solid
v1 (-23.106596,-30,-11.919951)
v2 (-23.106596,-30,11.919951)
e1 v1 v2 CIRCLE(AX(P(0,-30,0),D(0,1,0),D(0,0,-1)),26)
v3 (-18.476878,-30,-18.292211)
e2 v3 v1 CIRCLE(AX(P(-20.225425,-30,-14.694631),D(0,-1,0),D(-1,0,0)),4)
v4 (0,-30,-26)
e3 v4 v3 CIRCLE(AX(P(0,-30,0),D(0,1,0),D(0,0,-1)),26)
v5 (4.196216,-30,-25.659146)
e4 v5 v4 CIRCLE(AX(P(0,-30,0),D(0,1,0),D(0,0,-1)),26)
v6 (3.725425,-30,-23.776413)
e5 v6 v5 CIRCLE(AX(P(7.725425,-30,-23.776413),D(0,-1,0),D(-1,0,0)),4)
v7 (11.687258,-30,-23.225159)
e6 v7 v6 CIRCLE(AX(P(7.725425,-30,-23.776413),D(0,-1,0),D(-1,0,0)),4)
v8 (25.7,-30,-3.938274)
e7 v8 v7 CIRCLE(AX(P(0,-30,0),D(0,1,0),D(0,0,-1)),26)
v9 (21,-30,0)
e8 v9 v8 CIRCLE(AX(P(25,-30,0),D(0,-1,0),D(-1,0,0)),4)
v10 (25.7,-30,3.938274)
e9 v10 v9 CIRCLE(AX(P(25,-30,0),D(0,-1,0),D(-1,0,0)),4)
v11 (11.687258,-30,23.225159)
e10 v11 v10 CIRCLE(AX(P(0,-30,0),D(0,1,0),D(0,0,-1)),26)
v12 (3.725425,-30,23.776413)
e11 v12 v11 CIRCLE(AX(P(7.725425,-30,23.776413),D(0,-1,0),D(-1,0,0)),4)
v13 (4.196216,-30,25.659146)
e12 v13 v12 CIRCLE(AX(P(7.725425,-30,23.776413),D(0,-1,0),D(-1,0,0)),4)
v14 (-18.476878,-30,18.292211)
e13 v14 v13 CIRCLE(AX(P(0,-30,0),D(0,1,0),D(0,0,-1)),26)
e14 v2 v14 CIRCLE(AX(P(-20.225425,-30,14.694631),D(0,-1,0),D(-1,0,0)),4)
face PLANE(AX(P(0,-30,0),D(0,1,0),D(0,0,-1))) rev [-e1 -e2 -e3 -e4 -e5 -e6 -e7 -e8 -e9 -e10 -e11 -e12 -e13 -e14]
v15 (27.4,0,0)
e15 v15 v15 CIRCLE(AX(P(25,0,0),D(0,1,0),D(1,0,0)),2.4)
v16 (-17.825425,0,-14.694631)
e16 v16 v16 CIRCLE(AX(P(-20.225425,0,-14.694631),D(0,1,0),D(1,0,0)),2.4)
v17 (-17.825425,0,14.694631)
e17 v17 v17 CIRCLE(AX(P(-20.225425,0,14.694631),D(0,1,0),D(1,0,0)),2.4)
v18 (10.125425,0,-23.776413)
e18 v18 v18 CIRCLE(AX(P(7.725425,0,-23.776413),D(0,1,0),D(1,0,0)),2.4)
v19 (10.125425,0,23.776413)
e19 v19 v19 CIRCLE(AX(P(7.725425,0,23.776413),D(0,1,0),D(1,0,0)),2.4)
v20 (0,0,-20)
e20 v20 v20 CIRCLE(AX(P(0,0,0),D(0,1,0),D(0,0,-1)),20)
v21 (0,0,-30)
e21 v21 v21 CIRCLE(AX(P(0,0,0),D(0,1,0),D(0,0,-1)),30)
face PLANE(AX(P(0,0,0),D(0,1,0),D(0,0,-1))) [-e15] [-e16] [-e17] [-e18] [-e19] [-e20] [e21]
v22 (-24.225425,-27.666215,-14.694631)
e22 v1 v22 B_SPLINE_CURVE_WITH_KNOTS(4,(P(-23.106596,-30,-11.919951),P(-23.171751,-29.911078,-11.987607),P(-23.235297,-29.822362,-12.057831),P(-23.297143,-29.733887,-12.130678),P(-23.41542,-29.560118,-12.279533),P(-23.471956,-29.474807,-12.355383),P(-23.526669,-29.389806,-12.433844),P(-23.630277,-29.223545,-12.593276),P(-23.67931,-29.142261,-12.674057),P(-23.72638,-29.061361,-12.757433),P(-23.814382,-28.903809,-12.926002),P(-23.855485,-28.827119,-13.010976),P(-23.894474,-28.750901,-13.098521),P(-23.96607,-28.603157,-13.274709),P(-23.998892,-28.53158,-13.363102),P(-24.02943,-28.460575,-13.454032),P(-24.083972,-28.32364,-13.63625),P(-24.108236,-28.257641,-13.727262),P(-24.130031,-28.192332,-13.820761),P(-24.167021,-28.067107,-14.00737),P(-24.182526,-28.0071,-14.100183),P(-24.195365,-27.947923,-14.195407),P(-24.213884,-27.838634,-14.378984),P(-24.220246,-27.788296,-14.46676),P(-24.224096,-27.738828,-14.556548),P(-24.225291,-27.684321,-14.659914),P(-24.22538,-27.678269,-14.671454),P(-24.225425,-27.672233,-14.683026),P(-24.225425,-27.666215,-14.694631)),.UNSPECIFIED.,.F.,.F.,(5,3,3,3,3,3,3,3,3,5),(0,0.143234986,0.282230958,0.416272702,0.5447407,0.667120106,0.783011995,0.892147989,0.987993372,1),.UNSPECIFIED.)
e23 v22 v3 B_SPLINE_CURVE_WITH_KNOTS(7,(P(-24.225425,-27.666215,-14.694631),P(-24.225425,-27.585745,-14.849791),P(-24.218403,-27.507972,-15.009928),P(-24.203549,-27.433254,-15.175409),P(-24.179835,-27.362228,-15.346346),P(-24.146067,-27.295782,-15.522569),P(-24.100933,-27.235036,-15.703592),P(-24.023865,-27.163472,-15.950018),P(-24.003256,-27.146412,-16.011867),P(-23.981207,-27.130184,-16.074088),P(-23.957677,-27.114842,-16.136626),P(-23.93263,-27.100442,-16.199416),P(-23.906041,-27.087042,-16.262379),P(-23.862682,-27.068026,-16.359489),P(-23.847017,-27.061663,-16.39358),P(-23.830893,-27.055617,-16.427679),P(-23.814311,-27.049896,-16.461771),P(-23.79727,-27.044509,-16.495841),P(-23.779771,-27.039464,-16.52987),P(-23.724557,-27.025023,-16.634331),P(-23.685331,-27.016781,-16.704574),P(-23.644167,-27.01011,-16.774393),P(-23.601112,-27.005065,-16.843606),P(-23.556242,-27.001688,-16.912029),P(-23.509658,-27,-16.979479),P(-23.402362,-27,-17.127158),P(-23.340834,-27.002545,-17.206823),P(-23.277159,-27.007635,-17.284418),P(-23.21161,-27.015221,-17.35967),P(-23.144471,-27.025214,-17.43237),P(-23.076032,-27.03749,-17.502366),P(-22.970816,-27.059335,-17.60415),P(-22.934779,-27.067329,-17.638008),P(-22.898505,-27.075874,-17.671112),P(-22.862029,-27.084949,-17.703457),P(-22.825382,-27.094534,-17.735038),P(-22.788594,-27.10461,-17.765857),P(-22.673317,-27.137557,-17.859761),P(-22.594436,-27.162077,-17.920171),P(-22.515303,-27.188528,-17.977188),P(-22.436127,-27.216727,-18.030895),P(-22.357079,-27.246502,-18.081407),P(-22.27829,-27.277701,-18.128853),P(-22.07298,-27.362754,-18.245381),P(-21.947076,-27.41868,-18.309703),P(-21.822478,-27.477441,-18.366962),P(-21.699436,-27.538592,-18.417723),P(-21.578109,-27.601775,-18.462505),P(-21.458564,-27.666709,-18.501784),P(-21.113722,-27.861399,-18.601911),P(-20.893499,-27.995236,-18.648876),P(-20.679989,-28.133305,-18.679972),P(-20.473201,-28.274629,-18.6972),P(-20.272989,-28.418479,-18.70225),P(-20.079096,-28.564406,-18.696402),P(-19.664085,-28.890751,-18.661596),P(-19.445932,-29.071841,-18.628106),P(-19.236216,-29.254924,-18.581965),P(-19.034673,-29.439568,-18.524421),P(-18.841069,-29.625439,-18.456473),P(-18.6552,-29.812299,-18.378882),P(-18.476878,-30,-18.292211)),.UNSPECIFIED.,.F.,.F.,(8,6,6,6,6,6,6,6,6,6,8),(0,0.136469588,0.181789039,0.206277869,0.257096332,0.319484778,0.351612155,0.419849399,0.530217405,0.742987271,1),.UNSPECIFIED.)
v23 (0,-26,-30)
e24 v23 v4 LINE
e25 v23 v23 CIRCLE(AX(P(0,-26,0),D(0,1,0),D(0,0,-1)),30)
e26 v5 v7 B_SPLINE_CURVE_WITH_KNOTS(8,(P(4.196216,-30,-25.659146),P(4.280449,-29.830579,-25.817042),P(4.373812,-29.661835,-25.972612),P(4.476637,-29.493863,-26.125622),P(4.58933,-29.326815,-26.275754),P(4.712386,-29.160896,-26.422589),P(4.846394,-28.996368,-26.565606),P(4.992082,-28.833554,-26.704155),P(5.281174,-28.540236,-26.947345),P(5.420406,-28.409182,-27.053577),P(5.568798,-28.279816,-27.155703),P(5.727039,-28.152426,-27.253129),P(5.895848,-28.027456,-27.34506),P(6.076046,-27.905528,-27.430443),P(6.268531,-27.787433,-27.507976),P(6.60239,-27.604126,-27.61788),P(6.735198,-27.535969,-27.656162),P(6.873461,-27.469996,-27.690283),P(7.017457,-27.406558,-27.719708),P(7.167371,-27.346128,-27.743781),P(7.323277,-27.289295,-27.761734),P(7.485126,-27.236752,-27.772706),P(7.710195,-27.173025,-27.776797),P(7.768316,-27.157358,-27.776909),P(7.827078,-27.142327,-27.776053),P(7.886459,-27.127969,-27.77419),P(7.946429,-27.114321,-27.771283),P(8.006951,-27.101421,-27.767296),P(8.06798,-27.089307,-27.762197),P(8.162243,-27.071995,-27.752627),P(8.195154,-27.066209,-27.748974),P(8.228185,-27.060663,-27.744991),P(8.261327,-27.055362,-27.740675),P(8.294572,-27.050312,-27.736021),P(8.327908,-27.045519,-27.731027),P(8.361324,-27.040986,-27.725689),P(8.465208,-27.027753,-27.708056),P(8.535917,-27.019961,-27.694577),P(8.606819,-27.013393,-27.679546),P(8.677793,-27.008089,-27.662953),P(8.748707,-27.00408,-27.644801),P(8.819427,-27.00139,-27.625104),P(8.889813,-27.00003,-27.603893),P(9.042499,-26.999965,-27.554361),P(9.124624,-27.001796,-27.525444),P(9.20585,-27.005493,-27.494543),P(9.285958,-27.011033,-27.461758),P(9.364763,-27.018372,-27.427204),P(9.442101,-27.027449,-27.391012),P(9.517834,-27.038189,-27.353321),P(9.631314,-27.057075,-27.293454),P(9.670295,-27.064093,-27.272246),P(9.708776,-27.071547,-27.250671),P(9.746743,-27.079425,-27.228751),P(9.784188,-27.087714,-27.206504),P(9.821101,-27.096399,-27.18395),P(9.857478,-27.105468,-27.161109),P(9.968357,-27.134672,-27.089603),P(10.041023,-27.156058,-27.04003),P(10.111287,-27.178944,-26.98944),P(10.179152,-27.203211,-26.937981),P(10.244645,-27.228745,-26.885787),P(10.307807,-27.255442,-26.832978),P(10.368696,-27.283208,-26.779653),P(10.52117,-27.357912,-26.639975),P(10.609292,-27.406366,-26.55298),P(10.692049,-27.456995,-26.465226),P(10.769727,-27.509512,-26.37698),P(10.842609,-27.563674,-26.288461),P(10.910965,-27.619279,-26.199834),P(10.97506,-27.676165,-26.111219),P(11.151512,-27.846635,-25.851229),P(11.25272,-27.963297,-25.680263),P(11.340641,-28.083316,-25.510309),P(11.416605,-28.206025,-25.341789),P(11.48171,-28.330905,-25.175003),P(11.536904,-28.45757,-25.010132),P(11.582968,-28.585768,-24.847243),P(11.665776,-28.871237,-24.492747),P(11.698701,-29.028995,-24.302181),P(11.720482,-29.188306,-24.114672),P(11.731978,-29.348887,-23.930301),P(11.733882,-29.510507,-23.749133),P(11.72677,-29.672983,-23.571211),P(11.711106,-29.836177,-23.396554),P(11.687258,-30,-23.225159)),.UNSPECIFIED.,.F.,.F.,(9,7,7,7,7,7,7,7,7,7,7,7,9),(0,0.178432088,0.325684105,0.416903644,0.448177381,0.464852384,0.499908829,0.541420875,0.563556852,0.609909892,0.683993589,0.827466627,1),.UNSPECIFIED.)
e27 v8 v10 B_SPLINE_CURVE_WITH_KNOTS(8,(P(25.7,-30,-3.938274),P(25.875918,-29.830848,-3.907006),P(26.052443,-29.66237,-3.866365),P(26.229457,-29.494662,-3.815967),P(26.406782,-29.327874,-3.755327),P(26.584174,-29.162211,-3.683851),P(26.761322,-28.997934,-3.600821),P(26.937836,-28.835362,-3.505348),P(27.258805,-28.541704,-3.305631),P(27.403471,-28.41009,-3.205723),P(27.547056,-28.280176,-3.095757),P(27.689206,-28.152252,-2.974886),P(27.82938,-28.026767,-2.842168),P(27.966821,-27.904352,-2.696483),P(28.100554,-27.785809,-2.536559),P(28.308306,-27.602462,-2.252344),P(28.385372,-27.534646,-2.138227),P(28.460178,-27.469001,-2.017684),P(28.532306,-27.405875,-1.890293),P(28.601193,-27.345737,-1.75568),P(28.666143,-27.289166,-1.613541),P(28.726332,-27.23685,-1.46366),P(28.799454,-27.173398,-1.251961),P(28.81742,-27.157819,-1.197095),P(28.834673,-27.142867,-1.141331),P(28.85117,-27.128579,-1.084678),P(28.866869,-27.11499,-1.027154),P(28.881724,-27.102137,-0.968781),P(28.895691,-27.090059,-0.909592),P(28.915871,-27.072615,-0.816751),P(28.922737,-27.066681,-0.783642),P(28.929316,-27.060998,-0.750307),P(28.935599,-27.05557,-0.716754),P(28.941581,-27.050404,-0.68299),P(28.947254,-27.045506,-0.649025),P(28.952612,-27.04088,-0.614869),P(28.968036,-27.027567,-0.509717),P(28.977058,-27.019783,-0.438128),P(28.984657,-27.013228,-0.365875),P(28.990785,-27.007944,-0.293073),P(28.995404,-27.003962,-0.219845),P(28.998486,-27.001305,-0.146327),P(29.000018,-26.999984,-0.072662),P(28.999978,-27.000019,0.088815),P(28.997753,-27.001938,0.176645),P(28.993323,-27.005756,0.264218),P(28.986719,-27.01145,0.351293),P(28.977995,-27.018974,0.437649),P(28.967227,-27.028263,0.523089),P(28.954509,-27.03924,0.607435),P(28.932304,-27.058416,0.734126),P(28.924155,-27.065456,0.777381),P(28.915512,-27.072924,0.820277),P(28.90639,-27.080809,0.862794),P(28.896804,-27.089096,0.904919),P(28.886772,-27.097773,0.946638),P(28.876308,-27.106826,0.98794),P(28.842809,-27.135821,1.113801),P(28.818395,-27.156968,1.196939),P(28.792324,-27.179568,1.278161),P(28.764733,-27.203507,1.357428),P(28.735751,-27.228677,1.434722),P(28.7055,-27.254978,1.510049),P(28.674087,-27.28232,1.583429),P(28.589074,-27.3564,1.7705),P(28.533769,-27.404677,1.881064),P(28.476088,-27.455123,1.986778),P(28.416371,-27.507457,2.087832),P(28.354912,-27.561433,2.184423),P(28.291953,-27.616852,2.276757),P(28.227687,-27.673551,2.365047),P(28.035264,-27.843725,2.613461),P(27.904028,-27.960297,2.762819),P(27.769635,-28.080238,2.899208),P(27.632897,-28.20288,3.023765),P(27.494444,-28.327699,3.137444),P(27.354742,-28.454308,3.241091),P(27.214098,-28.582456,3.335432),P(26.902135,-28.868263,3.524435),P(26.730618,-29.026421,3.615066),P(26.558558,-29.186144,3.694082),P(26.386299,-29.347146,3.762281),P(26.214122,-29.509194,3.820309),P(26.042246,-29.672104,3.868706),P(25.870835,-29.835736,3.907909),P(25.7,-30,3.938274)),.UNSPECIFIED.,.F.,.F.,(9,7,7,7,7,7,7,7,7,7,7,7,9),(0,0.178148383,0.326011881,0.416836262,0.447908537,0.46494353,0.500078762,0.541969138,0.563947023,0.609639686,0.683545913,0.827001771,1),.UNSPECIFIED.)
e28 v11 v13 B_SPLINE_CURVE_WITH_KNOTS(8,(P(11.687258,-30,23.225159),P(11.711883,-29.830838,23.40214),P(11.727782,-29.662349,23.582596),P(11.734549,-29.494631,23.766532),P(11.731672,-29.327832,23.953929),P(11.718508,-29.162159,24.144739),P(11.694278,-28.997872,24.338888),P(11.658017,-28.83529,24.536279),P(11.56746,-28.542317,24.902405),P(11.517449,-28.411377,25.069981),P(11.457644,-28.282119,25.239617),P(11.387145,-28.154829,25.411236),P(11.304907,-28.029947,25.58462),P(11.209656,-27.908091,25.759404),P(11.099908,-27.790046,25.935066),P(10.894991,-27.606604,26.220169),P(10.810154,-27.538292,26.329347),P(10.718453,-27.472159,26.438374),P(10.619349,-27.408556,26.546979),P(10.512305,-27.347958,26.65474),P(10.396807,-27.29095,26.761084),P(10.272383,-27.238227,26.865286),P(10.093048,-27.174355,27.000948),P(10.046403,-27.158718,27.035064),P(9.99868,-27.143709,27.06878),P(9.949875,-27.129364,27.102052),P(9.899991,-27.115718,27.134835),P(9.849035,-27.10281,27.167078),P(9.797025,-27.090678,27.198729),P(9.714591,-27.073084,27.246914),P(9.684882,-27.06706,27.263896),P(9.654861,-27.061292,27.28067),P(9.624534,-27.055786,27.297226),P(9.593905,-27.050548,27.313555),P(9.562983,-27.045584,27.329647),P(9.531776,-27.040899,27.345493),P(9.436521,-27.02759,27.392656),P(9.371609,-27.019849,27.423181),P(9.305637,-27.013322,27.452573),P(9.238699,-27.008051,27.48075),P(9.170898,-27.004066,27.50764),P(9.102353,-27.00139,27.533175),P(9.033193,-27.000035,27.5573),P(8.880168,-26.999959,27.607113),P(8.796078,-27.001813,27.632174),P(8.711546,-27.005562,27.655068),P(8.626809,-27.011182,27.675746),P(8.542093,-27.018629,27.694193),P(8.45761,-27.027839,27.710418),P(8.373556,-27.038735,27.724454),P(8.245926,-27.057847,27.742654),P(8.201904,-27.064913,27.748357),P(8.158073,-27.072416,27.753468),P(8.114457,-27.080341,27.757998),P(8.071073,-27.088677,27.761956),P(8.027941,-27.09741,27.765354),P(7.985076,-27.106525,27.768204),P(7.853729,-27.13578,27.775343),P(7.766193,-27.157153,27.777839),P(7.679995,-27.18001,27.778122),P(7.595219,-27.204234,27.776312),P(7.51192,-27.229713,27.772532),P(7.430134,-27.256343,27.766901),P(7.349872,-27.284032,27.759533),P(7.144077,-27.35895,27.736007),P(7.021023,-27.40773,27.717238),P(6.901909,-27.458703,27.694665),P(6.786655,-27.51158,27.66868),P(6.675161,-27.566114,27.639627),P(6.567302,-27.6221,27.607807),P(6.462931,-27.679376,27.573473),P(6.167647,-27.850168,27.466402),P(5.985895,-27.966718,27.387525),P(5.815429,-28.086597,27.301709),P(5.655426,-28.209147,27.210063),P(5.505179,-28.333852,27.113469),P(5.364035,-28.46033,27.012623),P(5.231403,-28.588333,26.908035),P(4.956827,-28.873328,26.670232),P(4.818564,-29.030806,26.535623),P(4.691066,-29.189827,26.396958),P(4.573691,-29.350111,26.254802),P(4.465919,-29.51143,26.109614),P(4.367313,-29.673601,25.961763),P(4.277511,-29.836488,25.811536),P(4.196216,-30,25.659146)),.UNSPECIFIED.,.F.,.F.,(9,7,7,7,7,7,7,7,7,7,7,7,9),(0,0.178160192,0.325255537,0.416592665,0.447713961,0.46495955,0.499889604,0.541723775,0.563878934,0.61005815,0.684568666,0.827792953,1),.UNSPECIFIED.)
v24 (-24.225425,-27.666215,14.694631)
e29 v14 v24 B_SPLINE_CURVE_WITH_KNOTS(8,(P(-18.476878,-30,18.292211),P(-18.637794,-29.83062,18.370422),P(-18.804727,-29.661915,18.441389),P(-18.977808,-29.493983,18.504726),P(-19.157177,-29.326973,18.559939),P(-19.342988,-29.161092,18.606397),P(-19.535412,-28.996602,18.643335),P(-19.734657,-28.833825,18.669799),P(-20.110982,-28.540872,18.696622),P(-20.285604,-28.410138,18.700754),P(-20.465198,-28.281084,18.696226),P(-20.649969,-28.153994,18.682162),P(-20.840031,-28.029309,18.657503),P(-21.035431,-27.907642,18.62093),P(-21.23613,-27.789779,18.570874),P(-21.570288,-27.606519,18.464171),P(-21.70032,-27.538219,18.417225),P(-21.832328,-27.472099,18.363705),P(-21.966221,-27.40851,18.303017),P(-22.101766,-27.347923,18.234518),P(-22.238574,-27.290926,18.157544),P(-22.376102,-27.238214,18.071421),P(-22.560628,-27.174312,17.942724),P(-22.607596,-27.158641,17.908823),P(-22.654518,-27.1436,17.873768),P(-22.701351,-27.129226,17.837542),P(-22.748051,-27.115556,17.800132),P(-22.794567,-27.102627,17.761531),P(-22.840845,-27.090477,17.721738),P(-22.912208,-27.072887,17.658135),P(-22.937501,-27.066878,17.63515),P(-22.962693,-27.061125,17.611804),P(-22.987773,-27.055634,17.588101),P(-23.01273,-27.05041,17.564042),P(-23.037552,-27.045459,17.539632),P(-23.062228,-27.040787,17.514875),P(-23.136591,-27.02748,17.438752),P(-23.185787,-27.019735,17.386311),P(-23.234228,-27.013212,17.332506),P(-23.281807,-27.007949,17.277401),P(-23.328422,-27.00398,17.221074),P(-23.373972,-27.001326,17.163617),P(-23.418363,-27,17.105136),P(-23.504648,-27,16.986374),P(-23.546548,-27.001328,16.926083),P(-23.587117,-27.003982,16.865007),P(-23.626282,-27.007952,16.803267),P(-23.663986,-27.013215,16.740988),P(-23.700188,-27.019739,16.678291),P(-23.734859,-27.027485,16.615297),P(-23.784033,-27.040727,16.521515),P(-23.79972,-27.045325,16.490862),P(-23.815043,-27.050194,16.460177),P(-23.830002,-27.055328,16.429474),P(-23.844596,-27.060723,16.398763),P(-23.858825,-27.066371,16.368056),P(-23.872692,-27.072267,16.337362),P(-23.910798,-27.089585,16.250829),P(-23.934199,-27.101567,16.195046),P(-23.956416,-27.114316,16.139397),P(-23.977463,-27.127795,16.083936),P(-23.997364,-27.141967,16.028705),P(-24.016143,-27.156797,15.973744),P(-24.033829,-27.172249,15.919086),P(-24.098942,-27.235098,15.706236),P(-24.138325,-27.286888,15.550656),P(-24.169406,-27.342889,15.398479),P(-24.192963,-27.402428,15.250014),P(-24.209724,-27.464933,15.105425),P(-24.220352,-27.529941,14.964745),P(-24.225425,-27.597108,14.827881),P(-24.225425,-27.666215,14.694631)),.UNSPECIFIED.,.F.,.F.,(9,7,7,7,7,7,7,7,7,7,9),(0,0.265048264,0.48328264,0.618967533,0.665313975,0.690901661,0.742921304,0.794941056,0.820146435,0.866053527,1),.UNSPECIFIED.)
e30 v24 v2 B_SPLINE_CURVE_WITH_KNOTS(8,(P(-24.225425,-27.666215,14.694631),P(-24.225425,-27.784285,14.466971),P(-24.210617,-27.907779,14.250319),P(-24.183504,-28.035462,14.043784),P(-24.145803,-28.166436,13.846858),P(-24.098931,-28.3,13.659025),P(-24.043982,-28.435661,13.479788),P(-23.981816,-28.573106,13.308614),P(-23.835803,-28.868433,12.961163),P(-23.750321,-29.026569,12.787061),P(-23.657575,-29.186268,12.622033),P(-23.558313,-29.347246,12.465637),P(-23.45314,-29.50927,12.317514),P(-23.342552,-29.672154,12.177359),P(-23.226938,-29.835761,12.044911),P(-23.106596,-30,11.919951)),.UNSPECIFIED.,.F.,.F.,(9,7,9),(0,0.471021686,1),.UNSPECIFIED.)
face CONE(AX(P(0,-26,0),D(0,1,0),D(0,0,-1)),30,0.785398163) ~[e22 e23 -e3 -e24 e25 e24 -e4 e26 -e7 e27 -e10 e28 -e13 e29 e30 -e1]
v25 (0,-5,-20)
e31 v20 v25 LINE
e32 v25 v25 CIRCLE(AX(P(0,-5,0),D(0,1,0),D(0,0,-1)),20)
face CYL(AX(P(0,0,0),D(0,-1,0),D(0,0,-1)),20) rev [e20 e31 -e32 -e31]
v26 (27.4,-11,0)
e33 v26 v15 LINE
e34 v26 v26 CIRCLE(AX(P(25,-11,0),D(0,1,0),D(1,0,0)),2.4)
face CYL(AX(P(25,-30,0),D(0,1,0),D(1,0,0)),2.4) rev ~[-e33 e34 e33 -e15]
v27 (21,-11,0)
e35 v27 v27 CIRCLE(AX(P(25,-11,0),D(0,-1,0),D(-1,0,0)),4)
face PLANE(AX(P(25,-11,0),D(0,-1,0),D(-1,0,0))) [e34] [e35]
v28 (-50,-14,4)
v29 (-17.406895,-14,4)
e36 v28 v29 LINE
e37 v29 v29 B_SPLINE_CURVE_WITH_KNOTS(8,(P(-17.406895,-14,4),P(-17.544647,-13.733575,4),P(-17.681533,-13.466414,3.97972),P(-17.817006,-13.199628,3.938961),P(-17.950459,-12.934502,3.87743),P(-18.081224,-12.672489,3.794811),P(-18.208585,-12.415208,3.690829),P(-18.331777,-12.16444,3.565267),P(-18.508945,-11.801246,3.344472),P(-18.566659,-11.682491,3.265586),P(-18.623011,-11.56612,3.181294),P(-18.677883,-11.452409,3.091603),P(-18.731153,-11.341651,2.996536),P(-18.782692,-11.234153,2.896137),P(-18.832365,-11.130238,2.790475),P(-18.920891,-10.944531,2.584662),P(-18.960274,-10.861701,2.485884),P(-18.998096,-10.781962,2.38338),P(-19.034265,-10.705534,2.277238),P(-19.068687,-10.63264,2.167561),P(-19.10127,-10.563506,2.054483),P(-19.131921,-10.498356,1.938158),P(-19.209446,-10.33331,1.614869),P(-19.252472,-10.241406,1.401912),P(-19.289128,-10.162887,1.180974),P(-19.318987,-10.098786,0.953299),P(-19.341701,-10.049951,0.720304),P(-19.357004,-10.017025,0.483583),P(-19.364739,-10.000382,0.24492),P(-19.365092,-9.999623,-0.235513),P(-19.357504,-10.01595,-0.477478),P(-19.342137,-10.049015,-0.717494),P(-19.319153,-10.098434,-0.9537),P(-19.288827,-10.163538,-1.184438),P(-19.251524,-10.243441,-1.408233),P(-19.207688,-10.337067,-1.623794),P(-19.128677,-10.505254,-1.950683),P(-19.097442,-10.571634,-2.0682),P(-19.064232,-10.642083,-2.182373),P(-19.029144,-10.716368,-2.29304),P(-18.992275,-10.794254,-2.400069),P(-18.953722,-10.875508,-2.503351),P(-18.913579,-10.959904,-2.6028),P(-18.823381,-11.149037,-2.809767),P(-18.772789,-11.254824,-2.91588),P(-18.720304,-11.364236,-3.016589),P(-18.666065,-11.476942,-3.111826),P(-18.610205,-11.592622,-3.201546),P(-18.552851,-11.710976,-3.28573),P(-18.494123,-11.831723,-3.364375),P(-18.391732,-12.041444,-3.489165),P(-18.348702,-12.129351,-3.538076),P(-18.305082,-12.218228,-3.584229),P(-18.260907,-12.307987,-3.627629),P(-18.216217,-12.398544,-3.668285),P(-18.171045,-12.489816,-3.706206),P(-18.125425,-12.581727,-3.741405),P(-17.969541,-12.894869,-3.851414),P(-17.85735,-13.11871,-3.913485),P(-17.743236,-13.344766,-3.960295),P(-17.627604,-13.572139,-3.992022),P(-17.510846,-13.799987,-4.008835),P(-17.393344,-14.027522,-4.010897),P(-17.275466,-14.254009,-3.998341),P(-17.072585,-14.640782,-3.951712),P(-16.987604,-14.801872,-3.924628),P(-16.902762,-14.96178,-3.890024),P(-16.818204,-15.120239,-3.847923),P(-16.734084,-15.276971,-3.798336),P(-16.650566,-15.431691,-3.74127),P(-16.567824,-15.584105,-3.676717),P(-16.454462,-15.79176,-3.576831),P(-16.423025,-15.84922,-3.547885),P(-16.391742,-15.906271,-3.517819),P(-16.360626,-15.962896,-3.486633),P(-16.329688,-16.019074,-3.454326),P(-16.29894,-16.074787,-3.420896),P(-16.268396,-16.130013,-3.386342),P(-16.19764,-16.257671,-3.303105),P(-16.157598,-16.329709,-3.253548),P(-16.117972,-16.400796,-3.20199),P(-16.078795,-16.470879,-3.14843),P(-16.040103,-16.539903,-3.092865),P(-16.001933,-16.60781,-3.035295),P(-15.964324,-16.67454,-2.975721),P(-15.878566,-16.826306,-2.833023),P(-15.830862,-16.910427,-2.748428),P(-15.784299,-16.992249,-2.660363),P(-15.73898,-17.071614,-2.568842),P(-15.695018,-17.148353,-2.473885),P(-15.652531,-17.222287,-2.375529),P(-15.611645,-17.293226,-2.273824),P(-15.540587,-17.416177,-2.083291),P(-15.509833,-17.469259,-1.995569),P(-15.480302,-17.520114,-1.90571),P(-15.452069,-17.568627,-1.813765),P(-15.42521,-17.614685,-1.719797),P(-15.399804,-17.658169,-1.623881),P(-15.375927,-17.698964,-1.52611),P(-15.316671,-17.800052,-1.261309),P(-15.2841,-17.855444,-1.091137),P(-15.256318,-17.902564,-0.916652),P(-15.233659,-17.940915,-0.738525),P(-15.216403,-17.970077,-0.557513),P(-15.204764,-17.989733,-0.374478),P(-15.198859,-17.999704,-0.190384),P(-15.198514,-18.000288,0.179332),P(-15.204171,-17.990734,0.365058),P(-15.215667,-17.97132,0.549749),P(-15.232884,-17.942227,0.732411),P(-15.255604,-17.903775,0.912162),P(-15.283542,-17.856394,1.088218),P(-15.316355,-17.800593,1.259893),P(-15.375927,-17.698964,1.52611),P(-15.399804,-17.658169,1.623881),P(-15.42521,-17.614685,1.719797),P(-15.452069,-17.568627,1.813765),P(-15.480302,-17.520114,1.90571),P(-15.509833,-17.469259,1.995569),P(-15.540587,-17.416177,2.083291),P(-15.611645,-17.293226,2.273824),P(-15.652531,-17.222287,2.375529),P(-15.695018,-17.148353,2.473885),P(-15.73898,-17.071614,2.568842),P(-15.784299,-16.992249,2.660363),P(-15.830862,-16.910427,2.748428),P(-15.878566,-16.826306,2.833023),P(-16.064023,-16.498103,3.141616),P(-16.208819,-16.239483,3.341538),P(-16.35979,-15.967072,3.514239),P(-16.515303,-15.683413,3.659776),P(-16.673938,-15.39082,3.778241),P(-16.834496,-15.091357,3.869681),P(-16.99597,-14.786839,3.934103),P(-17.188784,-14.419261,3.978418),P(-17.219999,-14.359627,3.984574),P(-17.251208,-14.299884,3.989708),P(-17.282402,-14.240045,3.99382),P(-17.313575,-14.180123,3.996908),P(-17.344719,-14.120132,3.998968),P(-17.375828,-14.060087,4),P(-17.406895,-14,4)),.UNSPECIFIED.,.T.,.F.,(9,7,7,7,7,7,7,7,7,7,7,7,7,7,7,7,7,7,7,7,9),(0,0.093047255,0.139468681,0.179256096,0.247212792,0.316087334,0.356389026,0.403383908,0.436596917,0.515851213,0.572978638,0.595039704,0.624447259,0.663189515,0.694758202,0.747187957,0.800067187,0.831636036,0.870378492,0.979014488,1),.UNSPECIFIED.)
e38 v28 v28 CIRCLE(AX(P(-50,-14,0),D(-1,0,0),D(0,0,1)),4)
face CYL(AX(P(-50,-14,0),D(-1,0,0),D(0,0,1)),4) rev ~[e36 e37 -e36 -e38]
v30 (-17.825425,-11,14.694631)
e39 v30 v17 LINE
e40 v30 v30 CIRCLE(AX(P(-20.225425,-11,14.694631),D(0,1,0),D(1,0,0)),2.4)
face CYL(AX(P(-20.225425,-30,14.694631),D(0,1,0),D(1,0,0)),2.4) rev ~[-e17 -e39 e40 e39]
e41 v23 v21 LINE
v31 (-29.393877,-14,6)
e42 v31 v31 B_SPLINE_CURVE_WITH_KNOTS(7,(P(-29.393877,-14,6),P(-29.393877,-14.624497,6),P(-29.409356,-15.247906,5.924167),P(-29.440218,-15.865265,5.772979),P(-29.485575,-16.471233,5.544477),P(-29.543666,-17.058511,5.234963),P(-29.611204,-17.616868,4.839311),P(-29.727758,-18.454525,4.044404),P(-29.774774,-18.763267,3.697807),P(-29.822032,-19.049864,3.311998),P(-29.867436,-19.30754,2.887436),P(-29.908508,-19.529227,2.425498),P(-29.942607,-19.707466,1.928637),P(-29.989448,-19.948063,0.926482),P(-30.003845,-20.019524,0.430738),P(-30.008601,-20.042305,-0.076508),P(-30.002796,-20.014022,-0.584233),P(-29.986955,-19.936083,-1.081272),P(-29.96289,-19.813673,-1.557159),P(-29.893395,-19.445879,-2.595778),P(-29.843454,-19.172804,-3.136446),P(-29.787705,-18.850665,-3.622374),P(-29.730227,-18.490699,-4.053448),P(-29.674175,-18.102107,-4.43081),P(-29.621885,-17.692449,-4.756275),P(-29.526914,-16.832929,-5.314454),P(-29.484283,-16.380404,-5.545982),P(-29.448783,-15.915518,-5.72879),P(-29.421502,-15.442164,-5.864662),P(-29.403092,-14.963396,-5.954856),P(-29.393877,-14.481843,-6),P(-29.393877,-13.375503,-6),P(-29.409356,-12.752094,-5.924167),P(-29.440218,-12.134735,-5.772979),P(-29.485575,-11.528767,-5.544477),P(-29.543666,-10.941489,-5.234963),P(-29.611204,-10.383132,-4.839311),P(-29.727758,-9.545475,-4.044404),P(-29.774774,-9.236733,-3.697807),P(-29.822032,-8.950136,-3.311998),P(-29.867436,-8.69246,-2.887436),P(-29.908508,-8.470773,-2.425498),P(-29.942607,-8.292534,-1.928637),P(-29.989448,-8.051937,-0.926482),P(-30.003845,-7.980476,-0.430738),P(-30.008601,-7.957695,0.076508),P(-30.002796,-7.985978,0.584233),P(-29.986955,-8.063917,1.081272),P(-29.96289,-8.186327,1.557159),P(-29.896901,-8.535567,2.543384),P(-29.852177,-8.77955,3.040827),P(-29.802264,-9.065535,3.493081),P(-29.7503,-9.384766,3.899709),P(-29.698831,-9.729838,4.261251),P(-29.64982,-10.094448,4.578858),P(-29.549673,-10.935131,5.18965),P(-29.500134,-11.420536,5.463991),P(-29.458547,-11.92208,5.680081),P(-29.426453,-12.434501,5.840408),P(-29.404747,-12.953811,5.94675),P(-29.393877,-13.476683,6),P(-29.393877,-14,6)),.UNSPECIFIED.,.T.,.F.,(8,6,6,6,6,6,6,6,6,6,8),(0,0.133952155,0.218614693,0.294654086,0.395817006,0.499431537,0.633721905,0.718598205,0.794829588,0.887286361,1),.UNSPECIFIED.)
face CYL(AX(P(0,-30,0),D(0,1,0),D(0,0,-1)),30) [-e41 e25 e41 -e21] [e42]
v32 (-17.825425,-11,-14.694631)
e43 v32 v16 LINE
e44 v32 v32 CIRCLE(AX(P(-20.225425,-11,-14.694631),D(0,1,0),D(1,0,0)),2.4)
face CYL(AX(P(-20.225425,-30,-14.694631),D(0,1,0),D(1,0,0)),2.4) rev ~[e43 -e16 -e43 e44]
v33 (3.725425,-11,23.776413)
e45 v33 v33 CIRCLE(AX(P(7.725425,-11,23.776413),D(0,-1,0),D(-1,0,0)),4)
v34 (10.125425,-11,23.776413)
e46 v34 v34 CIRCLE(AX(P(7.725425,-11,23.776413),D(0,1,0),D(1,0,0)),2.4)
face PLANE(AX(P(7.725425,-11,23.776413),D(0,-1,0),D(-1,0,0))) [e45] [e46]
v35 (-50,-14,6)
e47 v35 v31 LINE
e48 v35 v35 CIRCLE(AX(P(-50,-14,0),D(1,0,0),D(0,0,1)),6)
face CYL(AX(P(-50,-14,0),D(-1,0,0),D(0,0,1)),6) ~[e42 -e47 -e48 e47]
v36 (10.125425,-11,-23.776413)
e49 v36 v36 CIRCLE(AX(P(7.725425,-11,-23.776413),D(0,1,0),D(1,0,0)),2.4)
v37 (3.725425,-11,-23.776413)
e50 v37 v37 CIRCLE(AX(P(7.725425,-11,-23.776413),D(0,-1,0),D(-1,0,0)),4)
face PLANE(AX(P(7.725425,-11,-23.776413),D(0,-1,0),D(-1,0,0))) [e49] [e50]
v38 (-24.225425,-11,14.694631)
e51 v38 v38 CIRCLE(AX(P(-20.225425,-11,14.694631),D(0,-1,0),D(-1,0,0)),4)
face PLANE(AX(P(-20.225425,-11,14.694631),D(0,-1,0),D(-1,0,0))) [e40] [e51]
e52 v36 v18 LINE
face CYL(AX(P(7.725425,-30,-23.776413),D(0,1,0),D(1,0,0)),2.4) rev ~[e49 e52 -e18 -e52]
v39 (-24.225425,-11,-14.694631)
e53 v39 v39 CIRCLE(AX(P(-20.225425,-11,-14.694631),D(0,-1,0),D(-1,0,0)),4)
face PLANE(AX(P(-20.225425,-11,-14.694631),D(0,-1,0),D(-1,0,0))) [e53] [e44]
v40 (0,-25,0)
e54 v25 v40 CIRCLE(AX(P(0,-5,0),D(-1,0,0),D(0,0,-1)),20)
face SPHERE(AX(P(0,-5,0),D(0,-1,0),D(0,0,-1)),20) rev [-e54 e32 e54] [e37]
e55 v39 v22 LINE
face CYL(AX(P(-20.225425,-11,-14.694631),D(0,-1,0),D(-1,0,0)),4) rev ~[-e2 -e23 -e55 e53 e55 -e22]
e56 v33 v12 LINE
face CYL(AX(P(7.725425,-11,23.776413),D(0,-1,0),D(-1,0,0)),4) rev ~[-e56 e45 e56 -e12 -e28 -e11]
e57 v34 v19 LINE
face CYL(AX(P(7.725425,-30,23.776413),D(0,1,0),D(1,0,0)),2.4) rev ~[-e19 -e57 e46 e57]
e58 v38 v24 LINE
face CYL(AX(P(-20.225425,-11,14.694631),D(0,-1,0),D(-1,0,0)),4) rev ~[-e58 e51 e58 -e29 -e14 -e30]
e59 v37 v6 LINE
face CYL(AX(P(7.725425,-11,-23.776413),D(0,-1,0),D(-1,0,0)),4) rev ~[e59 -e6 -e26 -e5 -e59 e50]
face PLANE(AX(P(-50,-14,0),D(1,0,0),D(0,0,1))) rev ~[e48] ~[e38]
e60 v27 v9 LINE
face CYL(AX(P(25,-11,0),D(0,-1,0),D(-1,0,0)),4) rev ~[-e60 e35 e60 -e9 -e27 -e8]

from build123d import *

# Parameters (mm, degrees)
BOSS_EXTRUDE1_REACH            = 92.554
BOSS_EXTRUDE1_END_RADIUS       = 30
SKETCH2_R                      = 6
CUT_EXTRUDE1_REACH             = 92.554
CUT_EXTRUDE1_END_RADIUS        = 20
SKETCH4_R                      = 4
CHAMFER1_SIZE                  = 4
CBORE_FOR_M4_SHCS1_D           = 4.8
CBORE_FOR_M4_SHCS1_CBORE_D     = 8
CBORE_FOR_M4_SHCS1_CBORE_DEPTH = 19


with BuildPart() as part:
    # Sketch1 → Revolve1 (revolve)
    with BuildSketch(Plane.XY, mode=Mode.PRIVATE) as revolve1_sk:
        with BuildLine():
            Line((20, 0), (20, -5))
            ThreePointArc((20, -5), (14.142135624, -19.142135624), (0, -25))
            Line((0, -25), (0, -30))
            Line((0, -30), (30, -30))
            Line((30, -30), (30, 0))
            Line((30, 0), (20, 0))
        make_face()
    revolve(revolve1_sk.sketch.rotate(Axis((0, 18.533057851, 0), (0, 1, 0)), 90), axis=Axis((0, 18.533057851, 0), (0, 1, 0)))

    # Boss-Extrude1: up to this cylinder (the profile starts outside it)
    boss_extrude1_end = Plane(origin=(0, -14, 0), z_dir=(0, -1, 0)) * Cylinder(BOSS_EXTRUDE1_END_RADIUS, 246.108, mode=Mode.PRIVATE)
    # Sketch2 → Boss-Extrude1 (add, up to the surface)
    with BuildSketch(Plane(origin=(-50, 0, 0), x_dir=(0, 0, -1), z_dir=(1, 0, 0)), mode=Mode.PRIVATE) as boss_extrude1_sk1:
        with Locations(Location((0, -14, 0), (0, 0, 180))):
            Circle(SKETCH2_R)
    boss_extrude1_tool1 = extrude(boss_extrude1_sk1.sketch, amount=BOSS_EXTRUDE1_REACH, mode=Mode.PRIVATE) - boss_extrude1_end
    add(boss_extrude1_tool1.solids().sort_by_distance((-50, -14, 0))[0])

    # Cut-Extrude1: up to this sphere (the profile starts outside it)
    cut_extrude1_end = Location((0, -5, 0)) * Sphere(CUT_EXTRUDE1_END_RADIUS, mode=Mode.PRIVATE)
    # Sketch4 → Cut-Extrude1 (cut, up to the surface)
    with BuildSketch(Plane.ZY.offset(50), mode=Mode.PRIVATE) as cut_extrude1_sk1:
        with Locations((0, -14)):
            Circle(SKETCH4_R)
    cut_extrude1_tool1 = extrude(cut_extrude1_sk1.sketch, amount=-CUT_EXTRUDE1_REACH, mode=Mode.PRIVATE) - cut_extrude1_end
    add(cut_extrude1_tool1.solids().sort_by_distance((-50, -14, 0))[0], mode=Mode.SUBTRACT)

    # Chamfer1
    chamfer1_edges = [part.edges().sort_by_distance(p)[0] for p in [
        (0, -30, 30),
    ]]
    chamfer(chamfer1_edges, length=CHAMFER1_SIZE)

    # CBORE for M4 SHCS1 (through all)
    with Locations(Plane(origin=(0, -30, 0), x_dir=(-1, 0, 0), z_dir=(0, -1, 0))):
        with Locations((-25, 0), (-7.725424859, -23.776412907), (20.225424859, -14.694631307), (20.225424859, 14.694631307), (-7.725424859, 23.776412907)):
            CounterBoreHole(CBORE_FOR_M4_SHCS1_D / 2, CBORE_FOR_M4_SHCS1_CBORE_D / 2, CBORE_FOR_M4_SHCS1_CBORE_DEPTH)


solid = part.part
